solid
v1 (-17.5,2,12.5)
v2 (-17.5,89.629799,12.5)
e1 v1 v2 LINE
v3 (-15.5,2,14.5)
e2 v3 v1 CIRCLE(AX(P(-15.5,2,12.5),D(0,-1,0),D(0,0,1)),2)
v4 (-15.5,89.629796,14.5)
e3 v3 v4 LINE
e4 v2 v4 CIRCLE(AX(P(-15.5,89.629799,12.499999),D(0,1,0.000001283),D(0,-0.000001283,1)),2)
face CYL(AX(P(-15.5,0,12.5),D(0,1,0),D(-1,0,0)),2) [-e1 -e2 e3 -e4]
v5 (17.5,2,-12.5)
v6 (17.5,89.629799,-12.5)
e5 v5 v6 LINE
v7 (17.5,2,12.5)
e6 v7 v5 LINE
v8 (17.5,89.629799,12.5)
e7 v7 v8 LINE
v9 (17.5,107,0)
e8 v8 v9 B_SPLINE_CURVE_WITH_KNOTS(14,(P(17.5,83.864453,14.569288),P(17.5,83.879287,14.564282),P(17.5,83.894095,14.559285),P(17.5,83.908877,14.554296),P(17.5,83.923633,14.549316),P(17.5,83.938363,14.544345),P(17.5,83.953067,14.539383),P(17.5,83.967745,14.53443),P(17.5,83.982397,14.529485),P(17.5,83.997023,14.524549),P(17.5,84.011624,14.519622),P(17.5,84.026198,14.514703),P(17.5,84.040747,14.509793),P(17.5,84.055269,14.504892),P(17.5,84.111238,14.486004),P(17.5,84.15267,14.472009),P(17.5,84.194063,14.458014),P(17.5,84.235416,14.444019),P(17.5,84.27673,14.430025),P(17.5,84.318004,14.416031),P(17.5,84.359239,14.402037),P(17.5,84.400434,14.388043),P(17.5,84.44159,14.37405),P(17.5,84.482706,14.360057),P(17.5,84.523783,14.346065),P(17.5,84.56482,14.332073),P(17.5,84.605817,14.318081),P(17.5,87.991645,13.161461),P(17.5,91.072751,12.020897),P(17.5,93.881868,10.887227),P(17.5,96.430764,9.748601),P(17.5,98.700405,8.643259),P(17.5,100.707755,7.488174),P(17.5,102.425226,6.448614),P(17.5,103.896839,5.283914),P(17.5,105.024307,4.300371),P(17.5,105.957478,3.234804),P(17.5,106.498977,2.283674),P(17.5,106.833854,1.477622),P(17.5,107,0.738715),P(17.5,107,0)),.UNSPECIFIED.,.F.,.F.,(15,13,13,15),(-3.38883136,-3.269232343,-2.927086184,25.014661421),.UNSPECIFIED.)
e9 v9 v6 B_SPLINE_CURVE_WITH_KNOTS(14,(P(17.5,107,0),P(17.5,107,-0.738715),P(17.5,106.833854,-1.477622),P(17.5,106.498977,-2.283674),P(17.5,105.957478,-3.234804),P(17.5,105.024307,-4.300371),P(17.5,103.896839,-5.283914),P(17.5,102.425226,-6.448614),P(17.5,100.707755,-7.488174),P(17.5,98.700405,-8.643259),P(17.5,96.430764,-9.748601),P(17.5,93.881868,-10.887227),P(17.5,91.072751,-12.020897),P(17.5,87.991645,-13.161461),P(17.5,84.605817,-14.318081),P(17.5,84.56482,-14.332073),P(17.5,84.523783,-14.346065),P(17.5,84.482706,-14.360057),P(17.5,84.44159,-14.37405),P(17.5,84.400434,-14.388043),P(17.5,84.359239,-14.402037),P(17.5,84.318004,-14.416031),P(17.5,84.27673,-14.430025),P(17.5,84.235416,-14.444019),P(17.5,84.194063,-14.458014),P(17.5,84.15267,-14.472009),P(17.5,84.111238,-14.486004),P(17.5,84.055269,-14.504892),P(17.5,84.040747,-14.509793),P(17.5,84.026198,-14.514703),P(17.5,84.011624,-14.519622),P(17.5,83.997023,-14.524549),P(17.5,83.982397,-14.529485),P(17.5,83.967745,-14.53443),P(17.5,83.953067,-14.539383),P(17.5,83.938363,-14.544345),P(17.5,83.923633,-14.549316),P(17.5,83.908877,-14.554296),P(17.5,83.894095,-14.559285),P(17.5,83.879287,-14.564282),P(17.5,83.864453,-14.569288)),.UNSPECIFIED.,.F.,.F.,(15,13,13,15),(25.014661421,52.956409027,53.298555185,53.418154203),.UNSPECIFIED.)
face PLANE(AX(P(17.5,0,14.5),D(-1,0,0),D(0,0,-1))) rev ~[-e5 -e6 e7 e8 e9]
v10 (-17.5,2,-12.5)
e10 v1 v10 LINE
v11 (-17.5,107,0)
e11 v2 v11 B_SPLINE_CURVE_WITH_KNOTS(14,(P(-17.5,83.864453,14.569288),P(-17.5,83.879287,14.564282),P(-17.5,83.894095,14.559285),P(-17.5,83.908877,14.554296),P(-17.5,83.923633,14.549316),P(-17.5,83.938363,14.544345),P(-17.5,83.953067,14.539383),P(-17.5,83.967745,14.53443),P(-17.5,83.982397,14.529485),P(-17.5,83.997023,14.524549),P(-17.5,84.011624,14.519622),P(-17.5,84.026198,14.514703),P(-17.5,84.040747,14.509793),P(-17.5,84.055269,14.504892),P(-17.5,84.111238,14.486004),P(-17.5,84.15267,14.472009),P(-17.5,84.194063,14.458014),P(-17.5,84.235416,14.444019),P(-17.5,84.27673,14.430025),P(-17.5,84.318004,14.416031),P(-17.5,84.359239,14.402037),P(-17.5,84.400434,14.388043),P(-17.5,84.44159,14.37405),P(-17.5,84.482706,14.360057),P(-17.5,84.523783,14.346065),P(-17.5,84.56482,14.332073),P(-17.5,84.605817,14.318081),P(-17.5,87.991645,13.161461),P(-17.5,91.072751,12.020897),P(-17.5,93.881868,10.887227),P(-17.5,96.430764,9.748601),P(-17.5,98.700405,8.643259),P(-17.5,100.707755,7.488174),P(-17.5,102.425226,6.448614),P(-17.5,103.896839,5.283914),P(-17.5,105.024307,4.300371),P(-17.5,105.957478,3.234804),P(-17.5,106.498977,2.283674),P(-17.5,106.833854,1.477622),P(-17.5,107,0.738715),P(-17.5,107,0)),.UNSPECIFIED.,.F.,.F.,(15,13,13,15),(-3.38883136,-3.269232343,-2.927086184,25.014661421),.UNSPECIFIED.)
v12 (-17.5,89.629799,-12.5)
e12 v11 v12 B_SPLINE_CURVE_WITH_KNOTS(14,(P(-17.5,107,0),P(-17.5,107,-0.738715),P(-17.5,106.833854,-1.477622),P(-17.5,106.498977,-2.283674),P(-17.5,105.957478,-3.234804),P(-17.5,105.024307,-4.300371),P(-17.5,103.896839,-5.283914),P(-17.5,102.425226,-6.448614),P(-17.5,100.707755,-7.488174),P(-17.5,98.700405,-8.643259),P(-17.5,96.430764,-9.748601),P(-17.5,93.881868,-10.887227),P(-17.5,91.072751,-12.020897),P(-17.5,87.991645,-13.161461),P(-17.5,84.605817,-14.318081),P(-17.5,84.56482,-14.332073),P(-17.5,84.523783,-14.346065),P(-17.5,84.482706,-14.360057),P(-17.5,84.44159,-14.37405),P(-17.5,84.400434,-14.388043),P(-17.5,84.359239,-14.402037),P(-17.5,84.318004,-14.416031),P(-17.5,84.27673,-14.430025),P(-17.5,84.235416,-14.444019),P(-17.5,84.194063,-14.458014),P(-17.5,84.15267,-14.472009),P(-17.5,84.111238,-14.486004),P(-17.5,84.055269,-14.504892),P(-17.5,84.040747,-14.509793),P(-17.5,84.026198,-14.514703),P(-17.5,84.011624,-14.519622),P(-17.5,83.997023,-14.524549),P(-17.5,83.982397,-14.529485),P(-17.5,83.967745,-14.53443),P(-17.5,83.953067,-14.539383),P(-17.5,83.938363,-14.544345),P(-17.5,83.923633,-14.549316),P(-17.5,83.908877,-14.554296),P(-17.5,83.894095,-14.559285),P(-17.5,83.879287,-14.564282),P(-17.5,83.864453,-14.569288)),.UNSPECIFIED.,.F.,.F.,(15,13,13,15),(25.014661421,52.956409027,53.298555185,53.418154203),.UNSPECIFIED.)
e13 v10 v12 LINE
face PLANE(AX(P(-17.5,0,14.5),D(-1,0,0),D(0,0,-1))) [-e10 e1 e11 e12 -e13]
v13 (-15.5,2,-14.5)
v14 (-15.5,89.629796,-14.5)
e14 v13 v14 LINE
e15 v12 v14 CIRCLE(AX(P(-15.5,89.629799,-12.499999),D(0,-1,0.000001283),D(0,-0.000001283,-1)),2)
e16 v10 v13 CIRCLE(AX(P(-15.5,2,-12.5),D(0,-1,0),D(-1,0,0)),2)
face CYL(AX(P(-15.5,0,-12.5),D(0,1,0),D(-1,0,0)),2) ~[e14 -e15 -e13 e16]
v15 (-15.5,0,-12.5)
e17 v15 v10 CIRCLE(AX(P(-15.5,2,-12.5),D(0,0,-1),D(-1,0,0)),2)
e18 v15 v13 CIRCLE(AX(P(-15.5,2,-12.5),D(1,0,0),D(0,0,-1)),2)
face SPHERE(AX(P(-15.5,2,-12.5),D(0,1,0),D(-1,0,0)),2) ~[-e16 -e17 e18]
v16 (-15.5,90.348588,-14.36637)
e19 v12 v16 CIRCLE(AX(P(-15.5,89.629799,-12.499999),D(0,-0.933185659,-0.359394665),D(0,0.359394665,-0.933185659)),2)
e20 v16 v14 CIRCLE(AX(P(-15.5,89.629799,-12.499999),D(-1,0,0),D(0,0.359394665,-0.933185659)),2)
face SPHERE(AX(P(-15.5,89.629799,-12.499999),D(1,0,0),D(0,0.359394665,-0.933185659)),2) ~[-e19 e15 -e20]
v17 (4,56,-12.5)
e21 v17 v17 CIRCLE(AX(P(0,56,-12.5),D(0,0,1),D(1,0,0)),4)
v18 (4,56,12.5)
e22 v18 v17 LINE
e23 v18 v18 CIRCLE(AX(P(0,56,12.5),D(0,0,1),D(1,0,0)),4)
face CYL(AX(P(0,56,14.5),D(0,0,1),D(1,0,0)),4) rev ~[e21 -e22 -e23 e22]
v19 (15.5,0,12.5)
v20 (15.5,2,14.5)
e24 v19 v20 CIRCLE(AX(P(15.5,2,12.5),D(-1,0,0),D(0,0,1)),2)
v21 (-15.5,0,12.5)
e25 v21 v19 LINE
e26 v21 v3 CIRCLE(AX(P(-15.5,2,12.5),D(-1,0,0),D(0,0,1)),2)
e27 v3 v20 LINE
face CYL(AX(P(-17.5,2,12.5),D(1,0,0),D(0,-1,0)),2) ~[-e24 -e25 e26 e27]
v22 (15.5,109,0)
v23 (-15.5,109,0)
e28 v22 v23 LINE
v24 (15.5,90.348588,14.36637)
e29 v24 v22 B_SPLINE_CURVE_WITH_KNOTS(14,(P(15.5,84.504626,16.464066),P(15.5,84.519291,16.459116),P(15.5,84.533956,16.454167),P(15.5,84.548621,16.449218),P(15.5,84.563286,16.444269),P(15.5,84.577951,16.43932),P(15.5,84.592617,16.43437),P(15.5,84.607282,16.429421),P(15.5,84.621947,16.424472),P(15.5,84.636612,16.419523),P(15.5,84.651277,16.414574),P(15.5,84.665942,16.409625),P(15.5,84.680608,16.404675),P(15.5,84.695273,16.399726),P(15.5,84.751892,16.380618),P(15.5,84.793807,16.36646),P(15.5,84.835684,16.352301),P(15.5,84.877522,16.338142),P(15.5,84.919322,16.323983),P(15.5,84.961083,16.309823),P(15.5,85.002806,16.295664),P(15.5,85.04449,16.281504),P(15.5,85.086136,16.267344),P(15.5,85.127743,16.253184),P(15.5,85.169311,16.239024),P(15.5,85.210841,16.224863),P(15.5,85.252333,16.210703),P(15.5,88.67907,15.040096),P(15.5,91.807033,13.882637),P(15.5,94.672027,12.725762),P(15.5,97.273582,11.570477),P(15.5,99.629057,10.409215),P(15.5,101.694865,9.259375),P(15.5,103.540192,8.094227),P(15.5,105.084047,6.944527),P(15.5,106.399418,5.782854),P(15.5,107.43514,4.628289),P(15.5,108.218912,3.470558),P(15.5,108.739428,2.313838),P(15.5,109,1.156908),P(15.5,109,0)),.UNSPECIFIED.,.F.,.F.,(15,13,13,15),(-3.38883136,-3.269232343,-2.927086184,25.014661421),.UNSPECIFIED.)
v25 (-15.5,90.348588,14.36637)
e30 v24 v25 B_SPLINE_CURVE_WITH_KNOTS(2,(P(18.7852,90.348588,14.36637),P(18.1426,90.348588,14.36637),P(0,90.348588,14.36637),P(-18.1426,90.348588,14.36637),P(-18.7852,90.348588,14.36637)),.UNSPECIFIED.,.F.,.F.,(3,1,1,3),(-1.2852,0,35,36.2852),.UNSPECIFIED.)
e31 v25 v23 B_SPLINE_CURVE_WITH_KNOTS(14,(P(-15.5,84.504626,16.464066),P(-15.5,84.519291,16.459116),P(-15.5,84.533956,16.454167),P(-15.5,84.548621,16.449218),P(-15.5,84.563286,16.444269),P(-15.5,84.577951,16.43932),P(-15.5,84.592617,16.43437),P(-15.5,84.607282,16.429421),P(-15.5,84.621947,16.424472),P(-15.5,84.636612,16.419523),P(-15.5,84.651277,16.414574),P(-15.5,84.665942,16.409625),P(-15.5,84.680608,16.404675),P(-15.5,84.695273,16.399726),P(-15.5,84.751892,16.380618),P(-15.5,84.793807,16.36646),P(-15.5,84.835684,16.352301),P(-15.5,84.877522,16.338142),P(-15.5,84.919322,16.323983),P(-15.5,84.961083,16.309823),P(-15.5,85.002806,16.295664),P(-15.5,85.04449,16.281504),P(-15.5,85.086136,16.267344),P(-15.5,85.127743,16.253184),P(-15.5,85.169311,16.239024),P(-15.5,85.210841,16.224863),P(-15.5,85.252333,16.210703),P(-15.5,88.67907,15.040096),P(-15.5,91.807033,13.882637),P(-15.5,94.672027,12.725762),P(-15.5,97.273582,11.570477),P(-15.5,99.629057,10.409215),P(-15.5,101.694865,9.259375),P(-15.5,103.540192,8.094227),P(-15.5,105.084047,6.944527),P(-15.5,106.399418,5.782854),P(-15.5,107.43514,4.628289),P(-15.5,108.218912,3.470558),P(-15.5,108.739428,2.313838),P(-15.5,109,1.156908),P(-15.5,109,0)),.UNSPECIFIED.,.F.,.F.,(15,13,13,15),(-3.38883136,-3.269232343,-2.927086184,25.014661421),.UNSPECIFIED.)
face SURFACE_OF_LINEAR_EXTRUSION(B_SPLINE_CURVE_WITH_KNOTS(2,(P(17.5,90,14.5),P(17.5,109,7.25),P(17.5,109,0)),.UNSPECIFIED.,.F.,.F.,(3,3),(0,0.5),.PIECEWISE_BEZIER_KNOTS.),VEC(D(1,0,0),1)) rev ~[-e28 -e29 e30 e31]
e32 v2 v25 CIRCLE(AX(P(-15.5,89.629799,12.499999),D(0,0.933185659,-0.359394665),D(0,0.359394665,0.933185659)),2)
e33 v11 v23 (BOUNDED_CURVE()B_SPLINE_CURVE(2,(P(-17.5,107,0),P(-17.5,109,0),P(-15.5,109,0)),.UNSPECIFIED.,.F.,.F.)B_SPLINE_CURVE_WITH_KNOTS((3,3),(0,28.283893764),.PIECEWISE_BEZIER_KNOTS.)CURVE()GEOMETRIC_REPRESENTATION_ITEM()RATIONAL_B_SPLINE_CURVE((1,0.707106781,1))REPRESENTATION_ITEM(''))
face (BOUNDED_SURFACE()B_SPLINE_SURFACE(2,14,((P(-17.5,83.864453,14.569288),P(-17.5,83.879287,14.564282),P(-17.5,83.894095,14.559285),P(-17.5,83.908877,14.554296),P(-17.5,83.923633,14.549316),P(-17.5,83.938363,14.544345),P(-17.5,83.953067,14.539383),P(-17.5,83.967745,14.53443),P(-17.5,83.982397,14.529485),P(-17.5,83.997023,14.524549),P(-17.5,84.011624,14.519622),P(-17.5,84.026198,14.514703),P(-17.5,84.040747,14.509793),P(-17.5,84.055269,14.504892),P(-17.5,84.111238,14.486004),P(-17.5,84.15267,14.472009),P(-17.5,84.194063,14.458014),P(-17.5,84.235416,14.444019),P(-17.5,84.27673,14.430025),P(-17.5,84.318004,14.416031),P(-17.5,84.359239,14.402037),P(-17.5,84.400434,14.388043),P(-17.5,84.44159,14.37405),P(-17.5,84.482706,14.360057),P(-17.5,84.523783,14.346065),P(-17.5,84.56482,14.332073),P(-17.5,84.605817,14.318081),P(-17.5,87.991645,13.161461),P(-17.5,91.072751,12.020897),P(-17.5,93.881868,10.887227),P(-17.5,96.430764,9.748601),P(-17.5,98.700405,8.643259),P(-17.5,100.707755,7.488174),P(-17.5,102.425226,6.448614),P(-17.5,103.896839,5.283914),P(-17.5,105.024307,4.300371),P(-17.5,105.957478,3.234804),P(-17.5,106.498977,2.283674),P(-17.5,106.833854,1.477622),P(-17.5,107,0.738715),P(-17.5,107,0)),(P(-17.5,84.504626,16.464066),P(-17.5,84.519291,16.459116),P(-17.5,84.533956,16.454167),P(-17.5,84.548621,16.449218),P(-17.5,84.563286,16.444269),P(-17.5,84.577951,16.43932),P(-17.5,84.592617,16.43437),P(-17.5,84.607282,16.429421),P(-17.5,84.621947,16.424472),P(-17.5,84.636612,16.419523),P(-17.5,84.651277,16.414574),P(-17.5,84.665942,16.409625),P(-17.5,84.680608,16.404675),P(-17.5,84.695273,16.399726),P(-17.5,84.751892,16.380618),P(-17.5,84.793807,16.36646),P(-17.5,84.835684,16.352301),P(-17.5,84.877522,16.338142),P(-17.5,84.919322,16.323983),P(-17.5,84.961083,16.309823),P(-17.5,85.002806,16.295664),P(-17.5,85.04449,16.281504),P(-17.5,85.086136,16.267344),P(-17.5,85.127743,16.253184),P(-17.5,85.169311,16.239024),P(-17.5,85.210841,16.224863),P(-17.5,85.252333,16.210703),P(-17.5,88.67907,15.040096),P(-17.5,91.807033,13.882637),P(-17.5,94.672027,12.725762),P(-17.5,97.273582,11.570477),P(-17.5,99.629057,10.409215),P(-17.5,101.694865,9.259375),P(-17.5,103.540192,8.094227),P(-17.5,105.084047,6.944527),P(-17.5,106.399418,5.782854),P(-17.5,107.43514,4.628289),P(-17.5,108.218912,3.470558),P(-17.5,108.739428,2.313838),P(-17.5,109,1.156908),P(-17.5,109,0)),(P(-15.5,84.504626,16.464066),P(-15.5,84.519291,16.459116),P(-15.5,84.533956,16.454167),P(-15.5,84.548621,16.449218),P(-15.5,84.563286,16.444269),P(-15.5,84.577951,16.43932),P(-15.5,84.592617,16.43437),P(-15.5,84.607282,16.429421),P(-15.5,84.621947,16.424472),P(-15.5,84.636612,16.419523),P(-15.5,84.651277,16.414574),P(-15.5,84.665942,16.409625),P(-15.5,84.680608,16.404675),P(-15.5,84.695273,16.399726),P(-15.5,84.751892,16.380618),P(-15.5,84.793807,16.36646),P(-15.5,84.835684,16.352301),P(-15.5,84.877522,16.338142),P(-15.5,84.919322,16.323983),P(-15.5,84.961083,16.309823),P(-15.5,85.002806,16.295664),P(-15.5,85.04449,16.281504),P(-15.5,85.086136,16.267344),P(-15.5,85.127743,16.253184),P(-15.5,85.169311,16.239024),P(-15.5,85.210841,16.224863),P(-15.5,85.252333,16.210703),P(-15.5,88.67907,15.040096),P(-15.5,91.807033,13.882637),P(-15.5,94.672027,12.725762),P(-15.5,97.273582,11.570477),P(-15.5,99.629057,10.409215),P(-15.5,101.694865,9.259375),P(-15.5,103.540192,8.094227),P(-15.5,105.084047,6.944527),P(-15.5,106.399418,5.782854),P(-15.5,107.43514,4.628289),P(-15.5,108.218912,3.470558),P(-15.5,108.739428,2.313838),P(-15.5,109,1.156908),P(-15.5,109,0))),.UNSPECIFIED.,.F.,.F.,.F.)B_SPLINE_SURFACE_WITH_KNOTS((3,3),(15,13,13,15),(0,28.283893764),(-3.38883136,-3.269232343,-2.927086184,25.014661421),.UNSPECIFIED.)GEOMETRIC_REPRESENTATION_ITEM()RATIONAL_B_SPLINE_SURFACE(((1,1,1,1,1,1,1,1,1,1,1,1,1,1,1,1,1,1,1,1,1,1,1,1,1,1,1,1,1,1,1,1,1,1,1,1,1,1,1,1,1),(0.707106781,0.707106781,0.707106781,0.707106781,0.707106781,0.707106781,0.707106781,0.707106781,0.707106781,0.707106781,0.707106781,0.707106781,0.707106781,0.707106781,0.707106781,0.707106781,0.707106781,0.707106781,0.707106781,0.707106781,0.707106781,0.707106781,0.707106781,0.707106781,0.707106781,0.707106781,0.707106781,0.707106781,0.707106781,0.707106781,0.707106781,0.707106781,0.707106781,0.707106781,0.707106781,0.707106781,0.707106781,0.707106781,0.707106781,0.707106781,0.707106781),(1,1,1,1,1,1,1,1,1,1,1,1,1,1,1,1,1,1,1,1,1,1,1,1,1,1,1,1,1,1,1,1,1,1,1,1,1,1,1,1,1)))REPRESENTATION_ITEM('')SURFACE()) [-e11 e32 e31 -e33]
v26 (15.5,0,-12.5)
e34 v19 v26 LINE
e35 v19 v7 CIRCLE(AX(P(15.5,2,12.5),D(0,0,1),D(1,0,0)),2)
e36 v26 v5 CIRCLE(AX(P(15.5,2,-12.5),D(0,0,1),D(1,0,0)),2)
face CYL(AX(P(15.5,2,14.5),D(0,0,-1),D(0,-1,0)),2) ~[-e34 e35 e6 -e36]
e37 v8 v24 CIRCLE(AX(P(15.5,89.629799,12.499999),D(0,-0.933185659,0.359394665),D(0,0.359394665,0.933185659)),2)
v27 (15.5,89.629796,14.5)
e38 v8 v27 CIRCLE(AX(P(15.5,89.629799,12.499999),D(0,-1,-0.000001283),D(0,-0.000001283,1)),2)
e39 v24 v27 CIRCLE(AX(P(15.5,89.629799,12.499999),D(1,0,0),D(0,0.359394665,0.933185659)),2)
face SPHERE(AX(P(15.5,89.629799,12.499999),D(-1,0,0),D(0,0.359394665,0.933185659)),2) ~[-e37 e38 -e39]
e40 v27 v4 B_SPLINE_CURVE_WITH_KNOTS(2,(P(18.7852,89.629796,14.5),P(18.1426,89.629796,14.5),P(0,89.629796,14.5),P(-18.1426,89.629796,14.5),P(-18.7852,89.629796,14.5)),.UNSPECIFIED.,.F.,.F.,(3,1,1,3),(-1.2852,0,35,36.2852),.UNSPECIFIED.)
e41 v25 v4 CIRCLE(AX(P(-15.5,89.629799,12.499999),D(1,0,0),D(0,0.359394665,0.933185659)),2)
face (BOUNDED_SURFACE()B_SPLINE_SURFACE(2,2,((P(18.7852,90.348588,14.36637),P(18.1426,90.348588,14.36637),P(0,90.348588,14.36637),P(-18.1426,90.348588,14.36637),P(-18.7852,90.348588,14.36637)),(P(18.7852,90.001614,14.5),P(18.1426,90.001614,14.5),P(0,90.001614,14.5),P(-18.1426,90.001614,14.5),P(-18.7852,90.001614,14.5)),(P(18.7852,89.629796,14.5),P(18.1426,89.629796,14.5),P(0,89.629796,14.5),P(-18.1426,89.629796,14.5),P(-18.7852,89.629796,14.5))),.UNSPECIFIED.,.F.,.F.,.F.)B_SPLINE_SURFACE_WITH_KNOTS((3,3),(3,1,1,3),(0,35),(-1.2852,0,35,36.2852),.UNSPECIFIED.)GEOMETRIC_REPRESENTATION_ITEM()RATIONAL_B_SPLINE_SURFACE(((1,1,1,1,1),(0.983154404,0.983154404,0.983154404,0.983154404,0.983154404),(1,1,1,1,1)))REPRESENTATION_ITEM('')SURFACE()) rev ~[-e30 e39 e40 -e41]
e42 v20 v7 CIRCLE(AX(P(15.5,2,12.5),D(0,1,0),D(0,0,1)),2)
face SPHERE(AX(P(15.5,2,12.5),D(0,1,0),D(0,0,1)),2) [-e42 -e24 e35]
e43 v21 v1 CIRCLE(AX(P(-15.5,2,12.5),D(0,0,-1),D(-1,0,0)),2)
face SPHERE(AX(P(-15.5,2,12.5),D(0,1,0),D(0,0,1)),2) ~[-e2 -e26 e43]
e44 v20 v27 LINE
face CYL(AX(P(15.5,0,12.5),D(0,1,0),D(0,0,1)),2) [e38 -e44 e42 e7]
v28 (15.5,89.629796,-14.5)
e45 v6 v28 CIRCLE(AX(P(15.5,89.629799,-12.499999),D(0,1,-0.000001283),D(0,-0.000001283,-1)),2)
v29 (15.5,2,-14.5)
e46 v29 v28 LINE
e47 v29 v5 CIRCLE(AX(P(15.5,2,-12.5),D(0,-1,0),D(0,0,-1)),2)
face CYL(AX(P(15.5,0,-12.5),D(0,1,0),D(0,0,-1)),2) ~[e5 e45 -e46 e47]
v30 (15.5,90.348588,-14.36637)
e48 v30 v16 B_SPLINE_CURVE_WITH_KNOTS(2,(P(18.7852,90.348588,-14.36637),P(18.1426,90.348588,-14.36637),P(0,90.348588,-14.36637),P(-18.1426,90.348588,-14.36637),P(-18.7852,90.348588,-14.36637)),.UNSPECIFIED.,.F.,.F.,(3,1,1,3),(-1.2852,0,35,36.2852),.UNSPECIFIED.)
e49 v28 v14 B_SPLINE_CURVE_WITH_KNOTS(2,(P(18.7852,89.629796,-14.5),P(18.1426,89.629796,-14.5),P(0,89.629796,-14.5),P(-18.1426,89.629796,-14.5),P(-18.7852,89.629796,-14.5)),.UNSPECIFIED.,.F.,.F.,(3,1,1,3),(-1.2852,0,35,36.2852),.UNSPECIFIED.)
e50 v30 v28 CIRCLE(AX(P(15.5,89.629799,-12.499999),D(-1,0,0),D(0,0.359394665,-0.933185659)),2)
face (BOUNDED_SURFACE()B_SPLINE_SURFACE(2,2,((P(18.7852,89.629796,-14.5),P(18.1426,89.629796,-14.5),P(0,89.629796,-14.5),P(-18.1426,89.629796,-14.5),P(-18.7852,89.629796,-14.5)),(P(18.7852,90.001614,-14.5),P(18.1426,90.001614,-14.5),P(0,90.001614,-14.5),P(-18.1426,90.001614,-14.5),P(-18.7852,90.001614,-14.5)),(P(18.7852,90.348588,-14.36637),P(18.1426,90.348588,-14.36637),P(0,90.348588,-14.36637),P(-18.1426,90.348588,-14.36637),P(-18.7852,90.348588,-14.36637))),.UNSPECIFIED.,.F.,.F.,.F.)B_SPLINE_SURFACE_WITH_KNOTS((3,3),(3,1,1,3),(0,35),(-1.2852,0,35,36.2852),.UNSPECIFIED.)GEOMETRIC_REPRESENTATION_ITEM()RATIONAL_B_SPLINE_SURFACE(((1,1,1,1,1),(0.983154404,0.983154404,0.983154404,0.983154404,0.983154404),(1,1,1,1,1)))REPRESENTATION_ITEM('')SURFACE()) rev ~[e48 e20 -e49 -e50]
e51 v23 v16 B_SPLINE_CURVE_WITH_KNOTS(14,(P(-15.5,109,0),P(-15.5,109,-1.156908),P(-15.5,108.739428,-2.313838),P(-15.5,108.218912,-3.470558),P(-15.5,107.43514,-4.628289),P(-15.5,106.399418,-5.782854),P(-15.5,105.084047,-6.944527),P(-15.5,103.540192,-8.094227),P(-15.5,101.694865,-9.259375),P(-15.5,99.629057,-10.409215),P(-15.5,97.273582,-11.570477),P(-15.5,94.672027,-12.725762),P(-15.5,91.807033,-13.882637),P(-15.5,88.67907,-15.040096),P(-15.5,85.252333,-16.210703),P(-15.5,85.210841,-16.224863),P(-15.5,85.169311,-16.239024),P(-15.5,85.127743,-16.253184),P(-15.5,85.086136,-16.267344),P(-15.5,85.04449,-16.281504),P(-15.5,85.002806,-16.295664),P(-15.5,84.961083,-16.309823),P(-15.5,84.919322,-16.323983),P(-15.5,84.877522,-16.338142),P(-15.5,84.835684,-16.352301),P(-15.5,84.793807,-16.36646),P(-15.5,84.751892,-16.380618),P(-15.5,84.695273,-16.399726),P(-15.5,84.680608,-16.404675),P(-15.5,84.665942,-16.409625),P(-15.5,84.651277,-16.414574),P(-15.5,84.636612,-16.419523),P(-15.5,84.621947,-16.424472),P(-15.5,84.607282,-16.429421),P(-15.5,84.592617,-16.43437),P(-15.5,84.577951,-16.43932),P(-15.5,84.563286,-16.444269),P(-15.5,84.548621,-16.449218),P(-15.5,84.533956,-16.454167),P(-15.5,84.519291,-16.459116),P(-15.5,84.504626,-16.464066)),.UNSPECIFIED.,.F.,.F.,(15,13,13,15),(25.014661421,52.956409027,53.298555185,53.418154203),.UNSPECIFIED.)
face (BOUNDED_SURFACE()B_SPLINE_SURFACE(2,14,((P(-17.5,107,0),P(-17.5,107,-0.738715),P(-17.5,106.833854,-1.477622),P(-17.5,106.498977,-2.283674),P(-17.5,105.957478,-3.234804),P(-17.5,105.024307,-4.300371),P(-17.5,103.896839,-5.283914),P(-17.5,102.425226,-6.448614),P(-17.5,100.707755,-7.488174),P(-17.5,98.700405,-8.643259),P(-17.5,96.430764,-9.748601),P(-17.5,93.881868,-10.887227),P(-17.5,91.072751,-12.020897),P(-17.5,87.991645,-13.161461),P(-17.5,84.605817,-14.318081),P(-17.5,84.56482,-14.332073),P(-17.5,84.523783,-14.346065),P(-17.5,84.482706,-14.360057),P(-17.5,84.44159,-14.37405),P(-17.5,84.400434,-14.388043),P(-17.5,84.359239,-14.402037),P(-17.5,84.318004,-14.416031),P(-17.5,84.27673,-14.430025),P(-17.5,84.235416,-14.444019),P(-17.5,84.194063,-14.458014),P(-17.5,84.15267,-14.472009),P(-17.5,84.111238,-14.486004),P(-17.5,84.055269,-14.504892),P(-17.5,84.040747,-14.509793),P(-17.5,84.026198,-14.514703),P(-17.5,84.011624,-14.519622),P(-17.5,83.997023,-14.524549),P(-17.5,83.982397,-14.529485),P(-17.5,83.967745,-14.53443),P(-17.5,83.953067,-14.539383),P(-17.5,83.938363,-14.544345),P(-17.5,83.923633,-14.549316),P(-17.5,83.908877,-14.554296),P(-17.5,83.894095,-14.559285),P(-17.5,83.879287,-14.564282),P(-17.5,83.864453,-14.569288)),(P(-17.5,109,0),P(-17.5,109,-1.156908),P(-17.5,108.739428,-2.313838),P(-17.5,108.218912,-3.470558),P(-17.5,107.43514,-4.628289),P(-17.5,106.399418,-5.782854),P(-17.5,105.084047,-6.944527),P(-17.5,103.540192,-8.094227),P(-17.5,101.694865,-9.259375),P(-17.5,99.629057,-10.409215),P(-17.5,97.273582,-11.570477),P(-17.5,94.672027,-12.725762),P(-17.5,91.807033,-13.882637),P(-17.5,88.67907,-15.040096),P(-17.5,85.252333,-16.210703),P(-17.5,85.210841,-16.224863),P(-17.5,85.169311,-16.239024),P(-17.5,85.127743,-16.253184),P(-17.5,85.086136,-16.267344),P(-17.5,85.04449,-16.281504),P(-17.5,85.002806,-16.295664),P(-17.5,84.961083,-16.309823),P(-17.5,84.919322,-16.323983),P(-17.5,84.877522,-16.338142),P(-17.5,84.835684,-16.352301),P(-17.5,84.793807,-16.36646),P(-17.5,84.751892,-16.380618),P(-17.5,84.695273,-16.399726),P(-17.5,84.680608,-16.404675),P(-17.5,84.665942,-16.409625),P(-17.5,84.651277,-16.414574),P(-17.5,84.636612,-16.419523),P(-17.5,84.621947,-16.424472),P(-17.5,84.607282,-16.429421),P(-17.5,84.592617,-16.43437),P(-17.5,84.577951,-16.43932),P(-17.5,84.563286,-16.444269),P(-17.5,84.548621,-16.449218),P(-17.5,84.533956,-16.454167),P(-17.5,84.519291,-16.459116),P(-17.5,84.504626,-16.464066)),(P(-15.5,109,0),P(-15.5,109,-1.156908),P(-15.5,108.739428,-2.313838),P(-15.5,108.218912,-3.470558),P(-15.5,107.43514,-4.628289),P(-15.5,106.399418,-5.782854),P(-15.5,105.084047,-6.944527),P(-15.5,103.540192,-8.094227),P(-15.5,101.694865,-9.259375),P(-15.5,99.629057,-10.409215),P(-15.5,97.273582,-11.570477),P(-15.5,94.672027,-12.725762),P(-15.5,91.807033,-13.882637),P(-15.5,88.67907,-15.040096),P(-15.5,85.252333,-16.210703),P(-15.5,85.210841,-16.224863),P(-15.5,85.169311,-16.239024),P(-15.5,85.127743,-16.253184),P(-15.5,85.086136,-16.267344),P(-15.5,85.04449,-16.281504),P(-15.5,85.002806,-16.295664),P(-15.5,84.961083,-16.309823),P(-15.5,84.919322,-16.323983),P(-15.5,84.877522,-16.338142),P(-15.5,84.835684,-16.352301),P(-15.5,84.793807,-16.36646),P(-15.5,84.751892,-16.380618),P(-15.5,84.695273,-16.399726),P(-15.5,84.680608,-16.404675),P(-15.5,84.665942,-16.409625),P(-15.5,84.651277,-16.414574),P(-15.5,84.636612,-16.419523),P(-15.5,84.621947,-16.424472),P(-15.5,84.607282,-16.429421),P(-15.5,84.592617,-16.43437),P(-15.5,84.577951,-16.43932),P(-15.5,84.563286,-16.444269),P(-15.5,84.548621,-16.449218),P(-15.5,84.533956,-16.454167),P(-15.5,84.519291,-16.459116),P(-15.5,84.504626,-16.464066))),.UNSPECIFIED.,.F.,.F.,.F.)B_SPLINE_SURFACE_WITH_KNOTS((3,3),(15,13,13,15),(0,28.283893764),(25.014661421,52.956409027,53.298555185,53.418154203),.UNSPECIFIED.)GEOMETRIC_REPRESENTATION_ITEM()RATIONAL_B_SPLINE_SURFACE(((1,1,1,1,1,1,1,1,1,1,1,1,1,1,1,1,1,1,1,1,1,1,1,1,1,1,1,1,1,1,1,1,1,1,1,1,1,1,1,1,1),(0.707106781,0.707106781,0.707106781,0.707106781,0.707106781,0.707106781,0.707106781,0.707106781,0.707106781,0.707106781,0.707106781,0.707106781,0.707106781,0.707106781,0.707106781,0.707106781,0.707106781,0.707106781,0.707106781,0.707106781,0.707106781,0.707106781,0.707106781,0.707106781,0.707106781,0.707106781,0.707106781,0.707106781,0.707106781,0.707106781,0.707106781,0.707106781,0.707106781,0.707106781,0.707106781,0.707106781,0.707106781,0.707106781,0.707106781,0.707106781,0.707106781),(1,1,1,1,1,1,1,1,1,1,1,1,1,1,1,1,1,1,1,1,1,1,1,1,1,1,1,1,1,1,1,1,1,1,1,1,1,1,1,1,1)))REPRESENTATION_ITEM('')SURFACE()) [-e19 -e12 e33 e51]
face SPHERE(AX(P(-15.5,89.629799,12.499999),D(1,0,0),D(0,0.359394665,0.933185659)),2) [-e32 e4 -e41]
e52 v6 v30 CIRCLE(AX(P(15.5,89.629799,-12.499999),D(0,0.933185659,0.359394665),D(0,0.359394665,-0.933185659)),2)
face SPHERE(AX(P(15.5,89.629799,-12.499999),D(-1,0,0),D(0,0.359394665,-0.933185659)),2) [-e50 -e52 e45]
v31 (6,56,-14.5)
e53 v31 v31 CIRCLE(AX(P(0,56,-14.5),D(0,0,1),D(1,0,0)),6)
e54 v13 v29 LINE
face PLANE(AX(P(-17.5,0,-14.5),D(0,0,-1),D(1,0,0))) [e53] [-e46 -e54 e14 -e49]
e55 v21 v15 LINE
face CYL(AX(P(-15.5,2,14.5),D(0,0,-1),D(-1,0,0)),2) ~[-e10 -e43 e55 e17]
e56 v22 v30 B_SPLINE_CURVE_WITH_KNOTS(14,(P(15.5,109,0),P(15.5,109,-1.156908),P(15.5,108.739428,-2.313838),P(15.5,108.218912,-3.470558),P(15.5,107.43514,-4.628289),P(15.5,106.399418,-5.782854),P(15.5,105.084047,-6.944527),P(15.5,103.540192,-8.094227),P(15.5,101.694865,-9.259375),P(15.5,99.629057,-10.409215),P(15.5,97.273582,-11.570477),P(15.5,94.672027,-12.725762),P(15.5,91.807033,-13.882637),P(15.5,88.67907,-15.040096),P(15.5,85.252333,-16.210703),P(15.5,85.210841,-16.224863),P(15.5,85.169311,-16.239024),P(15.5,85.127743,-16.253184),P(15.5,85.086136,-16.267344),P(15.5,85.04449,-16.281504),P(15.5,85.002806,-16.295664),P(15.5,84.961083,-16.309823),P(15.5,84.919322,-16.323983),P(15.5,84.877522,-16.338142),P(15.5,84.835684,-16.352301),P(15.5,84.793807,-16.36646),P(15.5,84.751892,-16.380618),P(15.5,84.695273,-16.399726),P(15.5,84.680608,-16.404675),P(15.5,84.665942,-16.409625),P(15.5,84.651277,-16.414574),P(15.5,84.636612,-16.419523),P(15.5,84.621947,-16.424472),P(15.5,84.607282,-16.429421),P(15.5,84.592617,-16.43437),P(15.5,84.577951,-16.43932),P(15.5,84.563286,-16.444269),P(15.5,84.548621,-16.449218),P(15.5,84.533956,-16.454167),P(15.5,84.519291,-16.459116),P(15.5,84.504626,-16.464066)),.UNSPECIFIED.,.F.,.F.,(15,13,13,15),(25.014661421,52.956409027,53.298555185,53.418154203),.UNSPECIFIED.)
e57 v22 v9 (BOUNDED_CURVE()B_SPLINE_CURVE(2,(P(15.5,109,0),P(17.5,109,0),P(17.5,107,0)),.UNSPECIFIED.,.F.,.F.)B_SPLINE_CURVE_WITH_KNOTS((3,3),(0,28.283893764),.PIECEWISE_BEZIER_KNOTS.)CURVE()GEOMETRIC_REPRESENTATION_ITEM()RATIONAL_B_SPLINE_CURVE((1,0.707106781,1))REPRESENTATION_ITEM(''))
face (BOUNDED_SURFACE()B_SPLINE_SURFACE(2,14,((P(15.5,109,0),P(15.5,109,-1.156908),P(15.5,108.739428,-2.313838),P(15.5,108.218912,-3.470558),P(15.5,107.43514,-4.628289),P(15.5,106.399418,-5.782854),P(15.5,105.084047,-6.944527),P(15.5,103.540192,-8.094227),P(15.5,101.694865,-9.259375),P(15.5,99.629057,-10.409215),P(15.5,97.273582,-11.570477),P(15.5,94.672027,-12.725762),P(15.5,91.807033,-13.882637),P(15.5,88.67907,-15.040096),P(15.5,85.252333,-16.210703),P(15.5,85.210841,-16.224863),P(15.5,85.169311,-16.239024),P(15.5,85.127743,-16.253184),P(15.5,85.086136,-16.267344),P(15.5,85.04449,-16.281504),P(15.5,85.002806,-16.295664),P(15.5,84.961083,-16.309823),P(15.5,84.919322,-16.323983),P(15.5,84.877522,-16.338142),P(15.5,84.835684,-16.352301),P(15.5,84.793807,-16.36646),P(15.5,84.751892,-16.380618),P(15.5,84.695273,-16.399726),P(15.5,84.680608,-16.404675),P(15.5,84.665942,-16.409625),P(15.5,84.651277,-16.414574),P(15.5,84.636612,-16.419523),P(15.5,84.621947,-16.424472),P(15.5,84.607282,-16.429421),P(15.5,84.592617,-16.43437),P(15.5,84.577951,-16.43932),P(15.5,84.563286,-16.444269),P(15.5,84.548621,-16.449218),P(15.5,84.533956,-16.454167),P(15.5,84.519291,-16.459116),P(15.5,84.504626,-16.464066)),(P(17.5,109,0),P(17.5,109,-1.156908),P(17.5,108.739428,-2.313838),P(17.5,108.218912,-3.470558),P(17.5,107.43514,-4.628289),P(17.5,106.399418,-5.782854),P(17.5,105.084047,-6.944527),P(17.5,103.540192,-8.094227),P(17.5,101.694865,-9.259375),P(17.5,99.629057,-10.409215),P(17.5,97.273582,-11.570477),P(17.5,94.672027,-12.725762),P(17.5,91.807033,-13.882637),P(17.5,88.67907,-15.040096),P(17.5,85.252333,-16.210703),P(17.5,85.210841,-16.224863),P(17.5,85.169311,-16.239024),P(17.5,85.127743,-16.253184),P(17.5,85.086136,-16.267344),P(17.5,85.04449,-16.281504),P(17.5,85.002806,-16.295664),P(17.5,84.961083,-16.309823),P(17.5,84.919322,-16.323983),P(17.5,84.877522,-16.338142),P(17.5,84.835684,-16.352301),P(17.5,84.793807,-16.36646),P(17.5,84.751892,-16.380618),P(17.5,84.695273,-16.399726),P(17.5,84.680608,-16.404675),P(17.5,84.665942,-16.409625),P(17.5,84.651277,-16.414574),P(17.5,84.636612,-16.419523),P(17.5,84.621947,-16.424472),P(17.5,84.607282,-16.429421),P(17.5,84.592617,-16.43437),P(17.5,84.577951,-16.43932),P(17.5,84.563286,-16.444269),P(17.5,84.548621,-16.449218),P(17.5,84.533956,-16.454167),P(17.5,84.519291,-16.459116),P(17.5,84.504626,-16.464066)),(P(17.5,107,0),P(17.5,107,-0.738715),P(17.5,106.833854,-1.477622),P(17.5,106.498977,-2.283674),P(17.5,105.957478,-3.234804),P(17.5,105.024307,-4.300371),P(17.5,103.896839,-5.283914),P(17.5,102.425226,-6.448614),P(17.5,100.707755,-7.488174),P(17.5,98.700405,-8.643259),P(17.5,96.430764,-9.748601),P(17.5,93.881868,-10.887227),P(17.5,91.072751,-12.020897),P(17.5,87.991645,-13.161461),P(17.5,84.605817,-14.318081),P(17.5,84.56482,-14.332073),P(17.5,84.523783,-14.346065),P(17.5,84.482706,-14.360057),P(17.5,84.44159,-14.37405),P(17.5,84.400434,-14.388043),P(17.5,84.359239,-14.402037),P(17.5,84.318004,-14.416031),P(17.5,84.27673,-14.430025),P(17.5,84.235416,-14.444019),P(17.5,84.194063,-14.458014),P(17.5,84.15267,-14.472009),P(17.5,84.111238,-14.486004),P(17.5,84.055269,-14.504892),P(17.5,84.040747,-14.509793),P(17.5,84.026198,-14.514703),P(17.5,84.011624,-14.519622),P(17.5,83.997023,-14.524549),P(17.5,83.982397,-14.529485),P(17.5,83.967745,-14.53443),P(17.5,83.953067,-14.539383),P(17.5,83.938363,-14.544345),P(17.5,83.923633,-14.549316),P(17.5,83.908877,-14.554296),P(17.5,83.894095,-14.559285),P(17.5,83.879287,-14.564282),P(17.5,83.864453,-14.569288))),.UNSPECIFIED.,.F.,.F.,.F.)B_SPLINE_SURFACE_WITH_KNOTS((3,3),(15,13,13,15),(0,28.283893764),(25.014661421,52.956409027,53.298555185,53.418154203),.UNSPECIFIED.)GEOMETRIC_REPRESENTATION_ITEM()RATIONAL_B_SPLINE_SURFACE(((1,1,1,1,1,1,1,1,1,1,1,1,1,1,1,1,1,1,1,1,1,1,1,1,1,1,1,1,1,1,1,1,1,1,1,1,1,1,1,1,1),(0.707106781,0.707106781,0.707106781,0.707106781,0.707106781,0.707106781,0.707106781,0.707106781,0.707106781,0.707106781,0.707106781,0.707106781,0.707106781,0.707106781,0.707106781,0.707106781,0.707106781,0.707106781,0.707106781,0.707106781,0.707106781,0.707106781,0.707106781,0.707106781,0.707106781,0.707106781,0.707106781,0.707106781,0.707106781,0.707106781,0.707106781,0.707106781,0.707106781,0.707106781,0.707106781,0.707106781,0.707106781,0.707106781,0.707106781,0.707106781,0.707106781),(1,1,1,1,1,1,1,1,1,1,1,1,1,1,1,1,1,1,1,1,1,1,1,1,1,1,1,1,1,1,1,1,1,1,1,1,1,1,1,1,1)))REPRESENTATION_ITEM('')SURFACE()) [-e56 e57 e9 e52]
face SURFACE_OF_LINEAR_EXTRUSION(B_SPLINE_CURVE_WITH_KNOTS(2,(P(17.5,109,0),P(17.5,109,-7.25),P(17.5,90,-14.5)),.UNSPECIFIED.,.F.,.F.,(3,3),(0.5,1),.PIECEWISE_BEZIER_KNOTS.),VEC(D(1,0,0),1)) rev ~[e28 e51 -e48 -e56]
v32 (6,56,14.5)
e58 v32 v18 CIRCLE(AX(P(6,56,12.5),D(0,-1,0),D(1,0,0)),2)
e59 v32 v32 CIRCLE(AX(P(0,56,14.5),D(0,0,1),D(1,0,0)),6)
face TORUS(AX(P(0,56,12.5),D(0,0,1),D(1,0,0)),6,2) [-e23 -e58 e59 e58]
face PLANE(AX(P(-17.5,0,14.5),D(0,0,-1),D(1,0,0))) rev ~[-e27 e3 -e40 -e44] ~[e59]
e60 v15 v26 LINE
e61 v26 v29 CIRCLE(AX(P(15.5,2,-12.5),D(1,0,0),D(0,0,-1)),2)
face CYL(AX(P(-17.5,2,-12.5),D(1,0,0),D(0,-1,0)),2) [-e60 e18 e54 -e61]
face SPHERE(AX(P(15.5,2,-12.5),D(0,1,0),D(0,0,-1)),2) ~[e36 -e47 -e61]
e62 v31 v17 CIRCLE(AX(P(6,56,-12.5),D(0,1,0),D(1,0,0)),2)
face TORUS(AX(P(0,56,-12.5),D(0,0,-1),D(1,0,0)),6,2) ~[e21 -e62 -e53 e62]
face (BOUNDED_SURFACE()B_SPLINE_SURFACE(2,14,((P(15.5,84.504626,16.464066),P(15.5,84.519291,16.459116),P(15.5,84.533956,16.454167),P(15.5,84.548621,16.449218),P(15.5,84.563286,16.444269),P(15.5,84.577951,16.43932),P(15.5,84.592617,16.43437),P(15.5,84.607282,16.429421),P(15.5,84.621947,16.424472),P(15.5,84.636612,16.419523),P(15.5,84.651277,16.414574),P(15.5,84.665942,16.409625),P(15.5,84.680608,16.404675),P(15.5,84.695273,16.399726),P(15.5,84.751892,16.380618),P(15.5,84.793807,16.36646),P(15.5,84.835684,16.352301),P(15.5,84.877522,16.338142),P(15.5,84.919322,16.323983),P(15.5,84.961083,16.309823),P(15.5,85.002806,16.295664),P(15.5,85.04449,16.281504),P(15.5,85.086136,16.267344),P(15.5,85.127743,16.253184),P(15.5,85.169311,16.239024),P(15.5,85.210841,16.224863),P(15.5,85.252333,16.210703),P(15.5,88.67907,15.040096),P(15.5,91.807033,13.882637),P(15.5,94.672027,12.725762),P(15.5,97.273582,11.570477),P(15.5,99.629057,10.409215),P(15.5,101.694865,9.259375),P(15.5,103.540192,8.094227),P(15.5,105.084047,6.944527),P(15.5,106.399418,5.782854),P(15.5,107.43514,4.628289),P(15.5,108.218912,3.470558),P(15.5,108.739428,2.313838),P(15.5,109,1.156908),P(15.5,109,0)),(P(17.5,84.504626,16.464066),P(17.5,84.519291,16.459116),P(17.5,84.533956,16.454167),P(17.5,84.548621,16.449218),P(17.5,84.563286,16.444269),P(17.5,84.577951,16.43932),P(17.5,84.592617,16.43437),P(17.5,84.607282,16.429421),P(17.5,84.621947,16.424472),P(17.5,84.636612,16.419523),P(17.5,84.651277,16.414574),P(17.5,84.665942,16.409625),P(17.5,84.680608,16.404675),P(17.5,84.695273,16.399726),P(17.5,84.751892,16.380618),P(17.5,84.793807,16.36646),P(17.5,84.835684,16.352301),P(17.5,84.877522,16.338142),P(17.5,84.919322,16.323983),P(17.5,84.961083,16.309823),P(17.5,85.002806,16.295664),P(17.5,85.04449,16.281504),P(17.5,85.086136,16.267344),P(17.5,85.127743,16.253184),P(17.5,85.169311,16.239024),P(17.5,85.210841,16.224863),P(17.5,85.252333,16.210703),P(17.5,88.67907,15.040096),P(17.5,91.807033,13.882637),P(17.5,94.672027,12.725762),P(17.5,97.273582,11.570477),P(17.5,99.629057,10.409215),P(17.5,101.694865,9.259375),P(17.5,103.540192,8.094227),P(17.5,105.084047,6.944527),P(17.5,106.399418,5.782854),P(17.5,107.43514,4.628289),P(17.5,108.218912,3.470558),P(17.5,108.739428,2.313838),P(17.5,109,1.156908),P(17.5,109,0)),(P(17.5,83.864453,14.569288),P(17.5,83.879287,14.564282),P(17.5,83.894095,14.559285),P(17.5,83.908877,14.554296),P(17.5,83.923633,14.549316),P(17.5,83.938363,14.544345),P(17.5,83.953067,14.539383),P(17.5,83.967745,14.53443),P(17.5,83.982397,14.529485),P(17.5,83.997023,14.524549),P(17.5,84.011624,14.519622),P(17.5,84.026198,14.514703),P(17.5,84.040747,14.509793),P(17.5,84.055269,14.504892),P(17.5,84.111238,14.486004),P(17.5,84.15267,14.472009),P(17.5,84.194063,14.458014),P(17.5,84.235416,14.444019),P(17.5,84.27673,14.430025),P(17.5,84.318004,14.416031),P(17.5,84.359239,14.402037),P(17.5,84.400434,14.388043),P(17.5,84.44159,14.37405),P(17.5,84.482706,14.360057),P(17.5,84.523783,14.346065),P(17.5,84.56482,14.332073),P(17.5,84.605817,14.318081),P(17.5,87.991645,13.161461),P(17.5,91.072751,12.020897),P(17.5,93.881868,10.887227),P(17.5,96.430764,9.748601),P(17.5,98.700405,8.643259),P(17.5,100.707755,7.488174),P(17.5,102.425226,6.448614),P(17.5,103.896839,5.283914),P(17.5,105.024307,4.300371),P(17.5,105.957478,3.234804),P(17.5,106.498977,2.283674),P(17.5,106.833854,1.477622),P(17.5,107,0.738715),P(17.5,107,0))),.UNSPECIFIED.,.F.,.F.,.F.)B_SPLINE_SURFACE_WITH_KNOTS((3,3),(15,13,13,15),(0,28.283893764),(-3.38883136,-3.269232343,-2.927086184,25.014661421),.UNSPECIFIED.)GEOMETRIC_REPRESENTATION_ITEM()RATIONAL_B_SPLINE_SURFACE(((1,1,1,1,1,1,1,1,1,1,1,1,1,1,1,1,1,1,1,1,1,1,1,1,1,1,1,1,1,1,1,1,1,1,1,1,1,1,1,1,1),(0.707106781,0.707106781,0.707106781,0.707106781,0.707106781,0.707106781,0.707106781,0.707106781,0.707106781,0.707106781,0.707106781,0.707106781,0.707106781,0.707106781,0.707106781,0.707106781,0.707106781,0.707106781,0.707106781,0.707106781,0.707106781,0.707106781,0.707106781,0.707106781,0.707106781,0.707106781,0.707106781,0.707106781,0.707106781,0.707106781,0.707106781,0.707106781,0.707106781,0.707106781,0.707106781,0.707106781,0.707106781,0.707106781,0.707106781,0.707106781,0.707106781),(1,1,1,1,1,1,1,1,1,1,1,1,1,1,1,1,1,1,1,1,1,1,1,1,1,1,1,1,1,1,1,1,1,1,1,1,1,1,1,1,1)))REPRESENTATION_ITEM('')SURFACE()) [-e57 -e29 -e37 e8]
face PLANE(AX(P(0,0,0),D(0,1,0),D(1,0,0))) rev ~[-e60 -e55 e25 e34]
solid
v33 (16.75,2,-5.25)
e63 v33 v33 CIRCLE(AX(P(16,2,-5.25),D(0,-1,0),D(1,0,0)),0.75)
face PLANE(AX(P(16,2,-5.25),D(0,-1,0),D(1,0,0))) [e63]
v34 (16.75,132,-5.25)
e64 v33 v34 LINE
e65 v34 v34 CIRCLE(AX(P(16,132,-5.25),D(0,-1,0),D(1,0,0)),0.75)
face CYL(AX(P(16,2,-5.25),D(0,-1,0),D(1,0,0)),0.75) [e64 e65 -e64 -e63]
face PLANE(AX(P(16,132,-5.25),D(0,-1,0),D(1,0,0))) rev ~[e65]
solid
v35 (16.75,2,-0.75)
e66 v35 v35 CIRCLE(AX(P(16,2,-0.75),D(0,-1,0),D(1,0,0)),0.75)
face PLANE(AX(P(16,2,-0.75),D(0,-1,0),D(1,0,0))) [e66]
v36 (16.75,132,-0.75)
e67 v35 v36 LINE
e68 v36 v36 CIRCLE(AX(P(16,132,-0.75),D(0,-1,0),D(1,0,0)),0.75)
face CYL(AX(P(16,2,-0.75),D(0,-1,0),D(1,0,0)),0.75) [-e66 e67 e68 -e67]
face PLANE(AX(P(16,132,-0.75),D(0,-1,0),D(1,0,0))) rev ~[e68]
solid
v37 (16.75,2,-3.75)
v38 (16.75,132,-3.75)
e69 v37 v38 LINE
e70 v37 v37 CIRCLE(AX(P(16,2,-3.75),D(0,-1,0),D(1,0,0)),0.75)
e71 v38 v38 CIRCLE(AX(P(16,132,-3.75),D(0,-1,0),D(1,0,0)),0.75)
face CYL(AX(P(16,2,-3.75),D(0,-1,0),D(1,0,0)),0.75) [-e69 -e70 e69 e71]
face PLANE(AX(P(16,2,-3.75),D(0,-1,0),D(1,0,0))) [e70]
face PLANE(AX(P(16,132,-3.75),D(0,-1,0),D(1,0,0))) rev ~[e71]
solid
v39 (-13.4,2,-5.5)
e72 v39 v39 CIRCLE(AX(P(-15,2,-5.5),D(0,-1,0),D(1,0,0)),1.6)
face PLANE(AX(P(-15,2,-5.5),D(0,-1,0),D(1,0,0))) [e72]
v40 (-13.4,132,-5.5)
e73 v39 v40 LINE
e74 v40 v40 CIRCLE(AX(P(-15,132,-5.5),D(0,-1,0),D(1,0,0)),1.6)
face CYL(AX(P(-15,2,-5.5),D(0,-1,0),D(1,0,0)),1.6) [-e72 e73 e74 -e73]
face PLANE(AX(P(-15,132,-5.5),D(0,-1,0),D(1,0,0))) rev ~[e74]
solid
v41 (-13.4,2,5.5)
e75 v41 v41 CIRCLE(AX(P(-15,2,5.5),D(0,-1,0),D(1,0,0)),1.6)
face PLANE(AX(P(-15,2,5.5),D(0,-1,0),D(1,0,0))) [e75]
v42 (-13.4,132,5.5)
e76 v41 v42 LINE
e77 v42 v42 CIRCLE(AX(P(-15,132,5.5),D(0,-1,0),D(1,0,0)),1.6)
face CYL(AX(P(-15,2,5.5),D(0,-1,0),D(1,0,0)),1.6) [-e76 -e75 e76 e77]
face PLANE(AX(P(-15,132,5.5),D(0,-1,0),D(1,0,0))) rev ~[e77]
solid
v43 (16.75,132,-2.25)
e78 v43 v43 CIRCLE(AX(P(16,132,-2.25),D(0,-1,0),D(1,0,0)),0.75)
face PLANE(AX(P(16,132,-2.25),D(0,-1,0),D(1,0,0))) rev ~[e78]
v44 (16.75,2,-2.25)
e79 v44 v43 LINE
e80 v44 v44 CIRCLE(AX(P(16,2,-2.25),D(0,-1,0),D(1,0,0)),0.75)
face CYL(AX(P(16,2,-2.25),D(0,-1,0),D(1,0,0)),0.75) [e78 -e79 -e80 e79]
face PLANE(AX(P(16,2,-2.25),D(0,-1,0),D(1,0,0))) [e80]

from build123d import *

# Parameters (mm, degrees)
SKETCH2_W             = 35
SKETCH2_H             = 29
BOSS_EXTRUDE1_DEPTH   = 109
CUT_EXTRUDE1_DEPTH    = 35
BOSS_EXTRUDE3_START   = -2
SKETCH4_R             = 1.6
BOSS_EXTRUDE3_DEPTH   = 130
BOSS_EXTRUDE3_2_DEPTH = 130
SKETCH4_R_2           = 0.75
BOSS_EXTRUDE3_3_DEPTH = 130
BOSS_EXTRUDE3_4_DEPTH = 130
BOSS_EXTRUDE3_5_DEPTH = 130
BOSS_EXTRUDE3_6_DEPTH = 130
FILLET1_R             = 2
SKETCH5_R             = 4
CUT_EXTRUDE2_DEPTH    = 29
FILLET2_R             = 2


with BuildPart() as part:
    # Sketch2 → Boss-Extrude1 (new body)
    with BuildSketch(Plane(origin=(0, 0, 0), x_dir=(1, 0, 0), z_dir=(0, 1, 0))):
        Rectangle(SKETCH2_W, SKETCH2_H)
    extrude(amount=BOSS_EXTRUDE1_DEPTH)

    # Sketch3 → Cut-Extrude1 (cut)
    with BuildSketch(Plane(origin=(17.5, 0, 0), x_dir=(0, 0, -1), z_dir=(1, 0, 0))):
        with BuildLine():
            add(Edge.make_bspline(
                [(0, 109), (7.25, 109), (14.5, 90)],
                knots=[0.5, 0.5, 0.5, 1, 1, 1], degree=2))
            Line((14.5, 90), (14.5, 109))
            Line((14.5, 109), (0, 109))
        make_face()
        with BuildLine():
            Line((-14.5, 109), (-14.5, 90))
            add(Edge.make_bspline(
                [(-14.5, 90), (-7.25, 109), (0, 109)],
                knots=[0, 0, 0, 0.5, 0.5, 0.5], degree=2))
            Line((0, 109), (-14.5, 109))
        make_face()
    extrude(amount=-CUT_EXTRUDE1_DEPTH, mode=Mode.SUBTRACT)

    # Fillet1
    fillet1_edges = [part.edges().sort_by_distance(p)[0] for p in [
        (-17.5, 45, -14.5),
        (17.5, 45, -14.5),
        (0, 90, -14.5),
        (17.5, 101.320451781, 9.218474052),
        (-17.5, 101.320451781, 9.218474052),
        (17.5, 45, 14.5),
        (-17.5, 45, 14.5),
        (0, 90, 14.5),
        (0, 0, 14.5),
        (-17.5, 0, 0),
        (0, 0, -14.5),
        (17.5, 0, 0),
    ]]
    fillet(fillet1_edges, radius=FILLET1_R)

    # Sketch5 → Cut-Extrude2 (cut)
    with BuildSketch(Plane.XY.offset(14.5)):
        with Locations((0, 56)):
            Circle(SKETCH5_R)
    extrude(amount=-CUT_EXTRUDE2_DEPTH, mode=Mode.SUBTRACT)

    # Fillet2
    fillet2_edges = [part.edges().sort_by_distance(p)[0] for p in [
        (-4, 56, 14.5),
        (-4, 56, -14.5),
    ]]
    fillet(fillet2_edges, radius=FILLET2_R)


with BuildPart() as body_2:
    # Sketch4 → Boss-Extrude3 (new body)
    with BuildSketch(Plane.XZ.offset(BOSS_EXTRUDE3_START)):
        with Locations((-15, -5.5)):
            Circle(SKETCH4_R)
    extrude(amount=-BOSS_EXTRUDE3_DEPTH)


with BuildPart() as body_3:
    # Sketch4 → Boss-Extrude3 2 (new body)
    with BuildSketch(Plane.XZ.offset(BOSS_EXTRUDE3_START)):
        with Locations((-15, 5.5)):
            Circle(SKETCH4_R)
    extrude(amount=-BOSS_EXTRUDE3_2_DEPTH)


with BuildPart() as body_4:
    # Sketch4 → Boss-Extrude3 3 (new body)
    with BuildSketch(Plane.XZ.offset(BOSS_EXTRUDE3_START)):
        with Locations((16, -5.25)):
            Circle(SKETCH4_R_2)
    extrude(amount=-BOSS_EXTRUDE3_3_DEPTH)


with BuildPart() as body_5:
    # Sketch4 → Boss-Extrude3 4 (new body)
    with BuildSketch(Plane.XZ.offset(BOSS_EXTRUDE3_START)):
        with Locations((16, -3.75)):
            Circle(SKETCH4_R_2)
    extrude(amount=-BOSS_EXTRUDE3_4_DEPTH)


with BuildPart() as body_6:
    # Sketch4 → Boss-Extrude3 5 (new body)
    with BuildSketch(Plane.XZ.offset(BOSS_EXTRUDE3_START)):
        with Locations((16, -2.25)):
            Circle(SKETCH4_R_2)
    extrude(amount=-BOSS_EXTRUDE3_5_DEPTH)


with BuildPart() as body_7:
    # Sketch4 → Boss-Extrude3 6 (new body)
    with BuildSketch(Plane.XZ.offset(BOSS_EXTRUDE3_START)):
        with Locations((16, -0.75)):
            Circle(SKETCH4_R_2)
    extrude(amount=-BOSS_EXTRUDE3_6_DEPTH)


solid = Compound([part.part, body_2.part, body_3.part, body_4.part, body_5.part, body_6.part, body_7.part])
